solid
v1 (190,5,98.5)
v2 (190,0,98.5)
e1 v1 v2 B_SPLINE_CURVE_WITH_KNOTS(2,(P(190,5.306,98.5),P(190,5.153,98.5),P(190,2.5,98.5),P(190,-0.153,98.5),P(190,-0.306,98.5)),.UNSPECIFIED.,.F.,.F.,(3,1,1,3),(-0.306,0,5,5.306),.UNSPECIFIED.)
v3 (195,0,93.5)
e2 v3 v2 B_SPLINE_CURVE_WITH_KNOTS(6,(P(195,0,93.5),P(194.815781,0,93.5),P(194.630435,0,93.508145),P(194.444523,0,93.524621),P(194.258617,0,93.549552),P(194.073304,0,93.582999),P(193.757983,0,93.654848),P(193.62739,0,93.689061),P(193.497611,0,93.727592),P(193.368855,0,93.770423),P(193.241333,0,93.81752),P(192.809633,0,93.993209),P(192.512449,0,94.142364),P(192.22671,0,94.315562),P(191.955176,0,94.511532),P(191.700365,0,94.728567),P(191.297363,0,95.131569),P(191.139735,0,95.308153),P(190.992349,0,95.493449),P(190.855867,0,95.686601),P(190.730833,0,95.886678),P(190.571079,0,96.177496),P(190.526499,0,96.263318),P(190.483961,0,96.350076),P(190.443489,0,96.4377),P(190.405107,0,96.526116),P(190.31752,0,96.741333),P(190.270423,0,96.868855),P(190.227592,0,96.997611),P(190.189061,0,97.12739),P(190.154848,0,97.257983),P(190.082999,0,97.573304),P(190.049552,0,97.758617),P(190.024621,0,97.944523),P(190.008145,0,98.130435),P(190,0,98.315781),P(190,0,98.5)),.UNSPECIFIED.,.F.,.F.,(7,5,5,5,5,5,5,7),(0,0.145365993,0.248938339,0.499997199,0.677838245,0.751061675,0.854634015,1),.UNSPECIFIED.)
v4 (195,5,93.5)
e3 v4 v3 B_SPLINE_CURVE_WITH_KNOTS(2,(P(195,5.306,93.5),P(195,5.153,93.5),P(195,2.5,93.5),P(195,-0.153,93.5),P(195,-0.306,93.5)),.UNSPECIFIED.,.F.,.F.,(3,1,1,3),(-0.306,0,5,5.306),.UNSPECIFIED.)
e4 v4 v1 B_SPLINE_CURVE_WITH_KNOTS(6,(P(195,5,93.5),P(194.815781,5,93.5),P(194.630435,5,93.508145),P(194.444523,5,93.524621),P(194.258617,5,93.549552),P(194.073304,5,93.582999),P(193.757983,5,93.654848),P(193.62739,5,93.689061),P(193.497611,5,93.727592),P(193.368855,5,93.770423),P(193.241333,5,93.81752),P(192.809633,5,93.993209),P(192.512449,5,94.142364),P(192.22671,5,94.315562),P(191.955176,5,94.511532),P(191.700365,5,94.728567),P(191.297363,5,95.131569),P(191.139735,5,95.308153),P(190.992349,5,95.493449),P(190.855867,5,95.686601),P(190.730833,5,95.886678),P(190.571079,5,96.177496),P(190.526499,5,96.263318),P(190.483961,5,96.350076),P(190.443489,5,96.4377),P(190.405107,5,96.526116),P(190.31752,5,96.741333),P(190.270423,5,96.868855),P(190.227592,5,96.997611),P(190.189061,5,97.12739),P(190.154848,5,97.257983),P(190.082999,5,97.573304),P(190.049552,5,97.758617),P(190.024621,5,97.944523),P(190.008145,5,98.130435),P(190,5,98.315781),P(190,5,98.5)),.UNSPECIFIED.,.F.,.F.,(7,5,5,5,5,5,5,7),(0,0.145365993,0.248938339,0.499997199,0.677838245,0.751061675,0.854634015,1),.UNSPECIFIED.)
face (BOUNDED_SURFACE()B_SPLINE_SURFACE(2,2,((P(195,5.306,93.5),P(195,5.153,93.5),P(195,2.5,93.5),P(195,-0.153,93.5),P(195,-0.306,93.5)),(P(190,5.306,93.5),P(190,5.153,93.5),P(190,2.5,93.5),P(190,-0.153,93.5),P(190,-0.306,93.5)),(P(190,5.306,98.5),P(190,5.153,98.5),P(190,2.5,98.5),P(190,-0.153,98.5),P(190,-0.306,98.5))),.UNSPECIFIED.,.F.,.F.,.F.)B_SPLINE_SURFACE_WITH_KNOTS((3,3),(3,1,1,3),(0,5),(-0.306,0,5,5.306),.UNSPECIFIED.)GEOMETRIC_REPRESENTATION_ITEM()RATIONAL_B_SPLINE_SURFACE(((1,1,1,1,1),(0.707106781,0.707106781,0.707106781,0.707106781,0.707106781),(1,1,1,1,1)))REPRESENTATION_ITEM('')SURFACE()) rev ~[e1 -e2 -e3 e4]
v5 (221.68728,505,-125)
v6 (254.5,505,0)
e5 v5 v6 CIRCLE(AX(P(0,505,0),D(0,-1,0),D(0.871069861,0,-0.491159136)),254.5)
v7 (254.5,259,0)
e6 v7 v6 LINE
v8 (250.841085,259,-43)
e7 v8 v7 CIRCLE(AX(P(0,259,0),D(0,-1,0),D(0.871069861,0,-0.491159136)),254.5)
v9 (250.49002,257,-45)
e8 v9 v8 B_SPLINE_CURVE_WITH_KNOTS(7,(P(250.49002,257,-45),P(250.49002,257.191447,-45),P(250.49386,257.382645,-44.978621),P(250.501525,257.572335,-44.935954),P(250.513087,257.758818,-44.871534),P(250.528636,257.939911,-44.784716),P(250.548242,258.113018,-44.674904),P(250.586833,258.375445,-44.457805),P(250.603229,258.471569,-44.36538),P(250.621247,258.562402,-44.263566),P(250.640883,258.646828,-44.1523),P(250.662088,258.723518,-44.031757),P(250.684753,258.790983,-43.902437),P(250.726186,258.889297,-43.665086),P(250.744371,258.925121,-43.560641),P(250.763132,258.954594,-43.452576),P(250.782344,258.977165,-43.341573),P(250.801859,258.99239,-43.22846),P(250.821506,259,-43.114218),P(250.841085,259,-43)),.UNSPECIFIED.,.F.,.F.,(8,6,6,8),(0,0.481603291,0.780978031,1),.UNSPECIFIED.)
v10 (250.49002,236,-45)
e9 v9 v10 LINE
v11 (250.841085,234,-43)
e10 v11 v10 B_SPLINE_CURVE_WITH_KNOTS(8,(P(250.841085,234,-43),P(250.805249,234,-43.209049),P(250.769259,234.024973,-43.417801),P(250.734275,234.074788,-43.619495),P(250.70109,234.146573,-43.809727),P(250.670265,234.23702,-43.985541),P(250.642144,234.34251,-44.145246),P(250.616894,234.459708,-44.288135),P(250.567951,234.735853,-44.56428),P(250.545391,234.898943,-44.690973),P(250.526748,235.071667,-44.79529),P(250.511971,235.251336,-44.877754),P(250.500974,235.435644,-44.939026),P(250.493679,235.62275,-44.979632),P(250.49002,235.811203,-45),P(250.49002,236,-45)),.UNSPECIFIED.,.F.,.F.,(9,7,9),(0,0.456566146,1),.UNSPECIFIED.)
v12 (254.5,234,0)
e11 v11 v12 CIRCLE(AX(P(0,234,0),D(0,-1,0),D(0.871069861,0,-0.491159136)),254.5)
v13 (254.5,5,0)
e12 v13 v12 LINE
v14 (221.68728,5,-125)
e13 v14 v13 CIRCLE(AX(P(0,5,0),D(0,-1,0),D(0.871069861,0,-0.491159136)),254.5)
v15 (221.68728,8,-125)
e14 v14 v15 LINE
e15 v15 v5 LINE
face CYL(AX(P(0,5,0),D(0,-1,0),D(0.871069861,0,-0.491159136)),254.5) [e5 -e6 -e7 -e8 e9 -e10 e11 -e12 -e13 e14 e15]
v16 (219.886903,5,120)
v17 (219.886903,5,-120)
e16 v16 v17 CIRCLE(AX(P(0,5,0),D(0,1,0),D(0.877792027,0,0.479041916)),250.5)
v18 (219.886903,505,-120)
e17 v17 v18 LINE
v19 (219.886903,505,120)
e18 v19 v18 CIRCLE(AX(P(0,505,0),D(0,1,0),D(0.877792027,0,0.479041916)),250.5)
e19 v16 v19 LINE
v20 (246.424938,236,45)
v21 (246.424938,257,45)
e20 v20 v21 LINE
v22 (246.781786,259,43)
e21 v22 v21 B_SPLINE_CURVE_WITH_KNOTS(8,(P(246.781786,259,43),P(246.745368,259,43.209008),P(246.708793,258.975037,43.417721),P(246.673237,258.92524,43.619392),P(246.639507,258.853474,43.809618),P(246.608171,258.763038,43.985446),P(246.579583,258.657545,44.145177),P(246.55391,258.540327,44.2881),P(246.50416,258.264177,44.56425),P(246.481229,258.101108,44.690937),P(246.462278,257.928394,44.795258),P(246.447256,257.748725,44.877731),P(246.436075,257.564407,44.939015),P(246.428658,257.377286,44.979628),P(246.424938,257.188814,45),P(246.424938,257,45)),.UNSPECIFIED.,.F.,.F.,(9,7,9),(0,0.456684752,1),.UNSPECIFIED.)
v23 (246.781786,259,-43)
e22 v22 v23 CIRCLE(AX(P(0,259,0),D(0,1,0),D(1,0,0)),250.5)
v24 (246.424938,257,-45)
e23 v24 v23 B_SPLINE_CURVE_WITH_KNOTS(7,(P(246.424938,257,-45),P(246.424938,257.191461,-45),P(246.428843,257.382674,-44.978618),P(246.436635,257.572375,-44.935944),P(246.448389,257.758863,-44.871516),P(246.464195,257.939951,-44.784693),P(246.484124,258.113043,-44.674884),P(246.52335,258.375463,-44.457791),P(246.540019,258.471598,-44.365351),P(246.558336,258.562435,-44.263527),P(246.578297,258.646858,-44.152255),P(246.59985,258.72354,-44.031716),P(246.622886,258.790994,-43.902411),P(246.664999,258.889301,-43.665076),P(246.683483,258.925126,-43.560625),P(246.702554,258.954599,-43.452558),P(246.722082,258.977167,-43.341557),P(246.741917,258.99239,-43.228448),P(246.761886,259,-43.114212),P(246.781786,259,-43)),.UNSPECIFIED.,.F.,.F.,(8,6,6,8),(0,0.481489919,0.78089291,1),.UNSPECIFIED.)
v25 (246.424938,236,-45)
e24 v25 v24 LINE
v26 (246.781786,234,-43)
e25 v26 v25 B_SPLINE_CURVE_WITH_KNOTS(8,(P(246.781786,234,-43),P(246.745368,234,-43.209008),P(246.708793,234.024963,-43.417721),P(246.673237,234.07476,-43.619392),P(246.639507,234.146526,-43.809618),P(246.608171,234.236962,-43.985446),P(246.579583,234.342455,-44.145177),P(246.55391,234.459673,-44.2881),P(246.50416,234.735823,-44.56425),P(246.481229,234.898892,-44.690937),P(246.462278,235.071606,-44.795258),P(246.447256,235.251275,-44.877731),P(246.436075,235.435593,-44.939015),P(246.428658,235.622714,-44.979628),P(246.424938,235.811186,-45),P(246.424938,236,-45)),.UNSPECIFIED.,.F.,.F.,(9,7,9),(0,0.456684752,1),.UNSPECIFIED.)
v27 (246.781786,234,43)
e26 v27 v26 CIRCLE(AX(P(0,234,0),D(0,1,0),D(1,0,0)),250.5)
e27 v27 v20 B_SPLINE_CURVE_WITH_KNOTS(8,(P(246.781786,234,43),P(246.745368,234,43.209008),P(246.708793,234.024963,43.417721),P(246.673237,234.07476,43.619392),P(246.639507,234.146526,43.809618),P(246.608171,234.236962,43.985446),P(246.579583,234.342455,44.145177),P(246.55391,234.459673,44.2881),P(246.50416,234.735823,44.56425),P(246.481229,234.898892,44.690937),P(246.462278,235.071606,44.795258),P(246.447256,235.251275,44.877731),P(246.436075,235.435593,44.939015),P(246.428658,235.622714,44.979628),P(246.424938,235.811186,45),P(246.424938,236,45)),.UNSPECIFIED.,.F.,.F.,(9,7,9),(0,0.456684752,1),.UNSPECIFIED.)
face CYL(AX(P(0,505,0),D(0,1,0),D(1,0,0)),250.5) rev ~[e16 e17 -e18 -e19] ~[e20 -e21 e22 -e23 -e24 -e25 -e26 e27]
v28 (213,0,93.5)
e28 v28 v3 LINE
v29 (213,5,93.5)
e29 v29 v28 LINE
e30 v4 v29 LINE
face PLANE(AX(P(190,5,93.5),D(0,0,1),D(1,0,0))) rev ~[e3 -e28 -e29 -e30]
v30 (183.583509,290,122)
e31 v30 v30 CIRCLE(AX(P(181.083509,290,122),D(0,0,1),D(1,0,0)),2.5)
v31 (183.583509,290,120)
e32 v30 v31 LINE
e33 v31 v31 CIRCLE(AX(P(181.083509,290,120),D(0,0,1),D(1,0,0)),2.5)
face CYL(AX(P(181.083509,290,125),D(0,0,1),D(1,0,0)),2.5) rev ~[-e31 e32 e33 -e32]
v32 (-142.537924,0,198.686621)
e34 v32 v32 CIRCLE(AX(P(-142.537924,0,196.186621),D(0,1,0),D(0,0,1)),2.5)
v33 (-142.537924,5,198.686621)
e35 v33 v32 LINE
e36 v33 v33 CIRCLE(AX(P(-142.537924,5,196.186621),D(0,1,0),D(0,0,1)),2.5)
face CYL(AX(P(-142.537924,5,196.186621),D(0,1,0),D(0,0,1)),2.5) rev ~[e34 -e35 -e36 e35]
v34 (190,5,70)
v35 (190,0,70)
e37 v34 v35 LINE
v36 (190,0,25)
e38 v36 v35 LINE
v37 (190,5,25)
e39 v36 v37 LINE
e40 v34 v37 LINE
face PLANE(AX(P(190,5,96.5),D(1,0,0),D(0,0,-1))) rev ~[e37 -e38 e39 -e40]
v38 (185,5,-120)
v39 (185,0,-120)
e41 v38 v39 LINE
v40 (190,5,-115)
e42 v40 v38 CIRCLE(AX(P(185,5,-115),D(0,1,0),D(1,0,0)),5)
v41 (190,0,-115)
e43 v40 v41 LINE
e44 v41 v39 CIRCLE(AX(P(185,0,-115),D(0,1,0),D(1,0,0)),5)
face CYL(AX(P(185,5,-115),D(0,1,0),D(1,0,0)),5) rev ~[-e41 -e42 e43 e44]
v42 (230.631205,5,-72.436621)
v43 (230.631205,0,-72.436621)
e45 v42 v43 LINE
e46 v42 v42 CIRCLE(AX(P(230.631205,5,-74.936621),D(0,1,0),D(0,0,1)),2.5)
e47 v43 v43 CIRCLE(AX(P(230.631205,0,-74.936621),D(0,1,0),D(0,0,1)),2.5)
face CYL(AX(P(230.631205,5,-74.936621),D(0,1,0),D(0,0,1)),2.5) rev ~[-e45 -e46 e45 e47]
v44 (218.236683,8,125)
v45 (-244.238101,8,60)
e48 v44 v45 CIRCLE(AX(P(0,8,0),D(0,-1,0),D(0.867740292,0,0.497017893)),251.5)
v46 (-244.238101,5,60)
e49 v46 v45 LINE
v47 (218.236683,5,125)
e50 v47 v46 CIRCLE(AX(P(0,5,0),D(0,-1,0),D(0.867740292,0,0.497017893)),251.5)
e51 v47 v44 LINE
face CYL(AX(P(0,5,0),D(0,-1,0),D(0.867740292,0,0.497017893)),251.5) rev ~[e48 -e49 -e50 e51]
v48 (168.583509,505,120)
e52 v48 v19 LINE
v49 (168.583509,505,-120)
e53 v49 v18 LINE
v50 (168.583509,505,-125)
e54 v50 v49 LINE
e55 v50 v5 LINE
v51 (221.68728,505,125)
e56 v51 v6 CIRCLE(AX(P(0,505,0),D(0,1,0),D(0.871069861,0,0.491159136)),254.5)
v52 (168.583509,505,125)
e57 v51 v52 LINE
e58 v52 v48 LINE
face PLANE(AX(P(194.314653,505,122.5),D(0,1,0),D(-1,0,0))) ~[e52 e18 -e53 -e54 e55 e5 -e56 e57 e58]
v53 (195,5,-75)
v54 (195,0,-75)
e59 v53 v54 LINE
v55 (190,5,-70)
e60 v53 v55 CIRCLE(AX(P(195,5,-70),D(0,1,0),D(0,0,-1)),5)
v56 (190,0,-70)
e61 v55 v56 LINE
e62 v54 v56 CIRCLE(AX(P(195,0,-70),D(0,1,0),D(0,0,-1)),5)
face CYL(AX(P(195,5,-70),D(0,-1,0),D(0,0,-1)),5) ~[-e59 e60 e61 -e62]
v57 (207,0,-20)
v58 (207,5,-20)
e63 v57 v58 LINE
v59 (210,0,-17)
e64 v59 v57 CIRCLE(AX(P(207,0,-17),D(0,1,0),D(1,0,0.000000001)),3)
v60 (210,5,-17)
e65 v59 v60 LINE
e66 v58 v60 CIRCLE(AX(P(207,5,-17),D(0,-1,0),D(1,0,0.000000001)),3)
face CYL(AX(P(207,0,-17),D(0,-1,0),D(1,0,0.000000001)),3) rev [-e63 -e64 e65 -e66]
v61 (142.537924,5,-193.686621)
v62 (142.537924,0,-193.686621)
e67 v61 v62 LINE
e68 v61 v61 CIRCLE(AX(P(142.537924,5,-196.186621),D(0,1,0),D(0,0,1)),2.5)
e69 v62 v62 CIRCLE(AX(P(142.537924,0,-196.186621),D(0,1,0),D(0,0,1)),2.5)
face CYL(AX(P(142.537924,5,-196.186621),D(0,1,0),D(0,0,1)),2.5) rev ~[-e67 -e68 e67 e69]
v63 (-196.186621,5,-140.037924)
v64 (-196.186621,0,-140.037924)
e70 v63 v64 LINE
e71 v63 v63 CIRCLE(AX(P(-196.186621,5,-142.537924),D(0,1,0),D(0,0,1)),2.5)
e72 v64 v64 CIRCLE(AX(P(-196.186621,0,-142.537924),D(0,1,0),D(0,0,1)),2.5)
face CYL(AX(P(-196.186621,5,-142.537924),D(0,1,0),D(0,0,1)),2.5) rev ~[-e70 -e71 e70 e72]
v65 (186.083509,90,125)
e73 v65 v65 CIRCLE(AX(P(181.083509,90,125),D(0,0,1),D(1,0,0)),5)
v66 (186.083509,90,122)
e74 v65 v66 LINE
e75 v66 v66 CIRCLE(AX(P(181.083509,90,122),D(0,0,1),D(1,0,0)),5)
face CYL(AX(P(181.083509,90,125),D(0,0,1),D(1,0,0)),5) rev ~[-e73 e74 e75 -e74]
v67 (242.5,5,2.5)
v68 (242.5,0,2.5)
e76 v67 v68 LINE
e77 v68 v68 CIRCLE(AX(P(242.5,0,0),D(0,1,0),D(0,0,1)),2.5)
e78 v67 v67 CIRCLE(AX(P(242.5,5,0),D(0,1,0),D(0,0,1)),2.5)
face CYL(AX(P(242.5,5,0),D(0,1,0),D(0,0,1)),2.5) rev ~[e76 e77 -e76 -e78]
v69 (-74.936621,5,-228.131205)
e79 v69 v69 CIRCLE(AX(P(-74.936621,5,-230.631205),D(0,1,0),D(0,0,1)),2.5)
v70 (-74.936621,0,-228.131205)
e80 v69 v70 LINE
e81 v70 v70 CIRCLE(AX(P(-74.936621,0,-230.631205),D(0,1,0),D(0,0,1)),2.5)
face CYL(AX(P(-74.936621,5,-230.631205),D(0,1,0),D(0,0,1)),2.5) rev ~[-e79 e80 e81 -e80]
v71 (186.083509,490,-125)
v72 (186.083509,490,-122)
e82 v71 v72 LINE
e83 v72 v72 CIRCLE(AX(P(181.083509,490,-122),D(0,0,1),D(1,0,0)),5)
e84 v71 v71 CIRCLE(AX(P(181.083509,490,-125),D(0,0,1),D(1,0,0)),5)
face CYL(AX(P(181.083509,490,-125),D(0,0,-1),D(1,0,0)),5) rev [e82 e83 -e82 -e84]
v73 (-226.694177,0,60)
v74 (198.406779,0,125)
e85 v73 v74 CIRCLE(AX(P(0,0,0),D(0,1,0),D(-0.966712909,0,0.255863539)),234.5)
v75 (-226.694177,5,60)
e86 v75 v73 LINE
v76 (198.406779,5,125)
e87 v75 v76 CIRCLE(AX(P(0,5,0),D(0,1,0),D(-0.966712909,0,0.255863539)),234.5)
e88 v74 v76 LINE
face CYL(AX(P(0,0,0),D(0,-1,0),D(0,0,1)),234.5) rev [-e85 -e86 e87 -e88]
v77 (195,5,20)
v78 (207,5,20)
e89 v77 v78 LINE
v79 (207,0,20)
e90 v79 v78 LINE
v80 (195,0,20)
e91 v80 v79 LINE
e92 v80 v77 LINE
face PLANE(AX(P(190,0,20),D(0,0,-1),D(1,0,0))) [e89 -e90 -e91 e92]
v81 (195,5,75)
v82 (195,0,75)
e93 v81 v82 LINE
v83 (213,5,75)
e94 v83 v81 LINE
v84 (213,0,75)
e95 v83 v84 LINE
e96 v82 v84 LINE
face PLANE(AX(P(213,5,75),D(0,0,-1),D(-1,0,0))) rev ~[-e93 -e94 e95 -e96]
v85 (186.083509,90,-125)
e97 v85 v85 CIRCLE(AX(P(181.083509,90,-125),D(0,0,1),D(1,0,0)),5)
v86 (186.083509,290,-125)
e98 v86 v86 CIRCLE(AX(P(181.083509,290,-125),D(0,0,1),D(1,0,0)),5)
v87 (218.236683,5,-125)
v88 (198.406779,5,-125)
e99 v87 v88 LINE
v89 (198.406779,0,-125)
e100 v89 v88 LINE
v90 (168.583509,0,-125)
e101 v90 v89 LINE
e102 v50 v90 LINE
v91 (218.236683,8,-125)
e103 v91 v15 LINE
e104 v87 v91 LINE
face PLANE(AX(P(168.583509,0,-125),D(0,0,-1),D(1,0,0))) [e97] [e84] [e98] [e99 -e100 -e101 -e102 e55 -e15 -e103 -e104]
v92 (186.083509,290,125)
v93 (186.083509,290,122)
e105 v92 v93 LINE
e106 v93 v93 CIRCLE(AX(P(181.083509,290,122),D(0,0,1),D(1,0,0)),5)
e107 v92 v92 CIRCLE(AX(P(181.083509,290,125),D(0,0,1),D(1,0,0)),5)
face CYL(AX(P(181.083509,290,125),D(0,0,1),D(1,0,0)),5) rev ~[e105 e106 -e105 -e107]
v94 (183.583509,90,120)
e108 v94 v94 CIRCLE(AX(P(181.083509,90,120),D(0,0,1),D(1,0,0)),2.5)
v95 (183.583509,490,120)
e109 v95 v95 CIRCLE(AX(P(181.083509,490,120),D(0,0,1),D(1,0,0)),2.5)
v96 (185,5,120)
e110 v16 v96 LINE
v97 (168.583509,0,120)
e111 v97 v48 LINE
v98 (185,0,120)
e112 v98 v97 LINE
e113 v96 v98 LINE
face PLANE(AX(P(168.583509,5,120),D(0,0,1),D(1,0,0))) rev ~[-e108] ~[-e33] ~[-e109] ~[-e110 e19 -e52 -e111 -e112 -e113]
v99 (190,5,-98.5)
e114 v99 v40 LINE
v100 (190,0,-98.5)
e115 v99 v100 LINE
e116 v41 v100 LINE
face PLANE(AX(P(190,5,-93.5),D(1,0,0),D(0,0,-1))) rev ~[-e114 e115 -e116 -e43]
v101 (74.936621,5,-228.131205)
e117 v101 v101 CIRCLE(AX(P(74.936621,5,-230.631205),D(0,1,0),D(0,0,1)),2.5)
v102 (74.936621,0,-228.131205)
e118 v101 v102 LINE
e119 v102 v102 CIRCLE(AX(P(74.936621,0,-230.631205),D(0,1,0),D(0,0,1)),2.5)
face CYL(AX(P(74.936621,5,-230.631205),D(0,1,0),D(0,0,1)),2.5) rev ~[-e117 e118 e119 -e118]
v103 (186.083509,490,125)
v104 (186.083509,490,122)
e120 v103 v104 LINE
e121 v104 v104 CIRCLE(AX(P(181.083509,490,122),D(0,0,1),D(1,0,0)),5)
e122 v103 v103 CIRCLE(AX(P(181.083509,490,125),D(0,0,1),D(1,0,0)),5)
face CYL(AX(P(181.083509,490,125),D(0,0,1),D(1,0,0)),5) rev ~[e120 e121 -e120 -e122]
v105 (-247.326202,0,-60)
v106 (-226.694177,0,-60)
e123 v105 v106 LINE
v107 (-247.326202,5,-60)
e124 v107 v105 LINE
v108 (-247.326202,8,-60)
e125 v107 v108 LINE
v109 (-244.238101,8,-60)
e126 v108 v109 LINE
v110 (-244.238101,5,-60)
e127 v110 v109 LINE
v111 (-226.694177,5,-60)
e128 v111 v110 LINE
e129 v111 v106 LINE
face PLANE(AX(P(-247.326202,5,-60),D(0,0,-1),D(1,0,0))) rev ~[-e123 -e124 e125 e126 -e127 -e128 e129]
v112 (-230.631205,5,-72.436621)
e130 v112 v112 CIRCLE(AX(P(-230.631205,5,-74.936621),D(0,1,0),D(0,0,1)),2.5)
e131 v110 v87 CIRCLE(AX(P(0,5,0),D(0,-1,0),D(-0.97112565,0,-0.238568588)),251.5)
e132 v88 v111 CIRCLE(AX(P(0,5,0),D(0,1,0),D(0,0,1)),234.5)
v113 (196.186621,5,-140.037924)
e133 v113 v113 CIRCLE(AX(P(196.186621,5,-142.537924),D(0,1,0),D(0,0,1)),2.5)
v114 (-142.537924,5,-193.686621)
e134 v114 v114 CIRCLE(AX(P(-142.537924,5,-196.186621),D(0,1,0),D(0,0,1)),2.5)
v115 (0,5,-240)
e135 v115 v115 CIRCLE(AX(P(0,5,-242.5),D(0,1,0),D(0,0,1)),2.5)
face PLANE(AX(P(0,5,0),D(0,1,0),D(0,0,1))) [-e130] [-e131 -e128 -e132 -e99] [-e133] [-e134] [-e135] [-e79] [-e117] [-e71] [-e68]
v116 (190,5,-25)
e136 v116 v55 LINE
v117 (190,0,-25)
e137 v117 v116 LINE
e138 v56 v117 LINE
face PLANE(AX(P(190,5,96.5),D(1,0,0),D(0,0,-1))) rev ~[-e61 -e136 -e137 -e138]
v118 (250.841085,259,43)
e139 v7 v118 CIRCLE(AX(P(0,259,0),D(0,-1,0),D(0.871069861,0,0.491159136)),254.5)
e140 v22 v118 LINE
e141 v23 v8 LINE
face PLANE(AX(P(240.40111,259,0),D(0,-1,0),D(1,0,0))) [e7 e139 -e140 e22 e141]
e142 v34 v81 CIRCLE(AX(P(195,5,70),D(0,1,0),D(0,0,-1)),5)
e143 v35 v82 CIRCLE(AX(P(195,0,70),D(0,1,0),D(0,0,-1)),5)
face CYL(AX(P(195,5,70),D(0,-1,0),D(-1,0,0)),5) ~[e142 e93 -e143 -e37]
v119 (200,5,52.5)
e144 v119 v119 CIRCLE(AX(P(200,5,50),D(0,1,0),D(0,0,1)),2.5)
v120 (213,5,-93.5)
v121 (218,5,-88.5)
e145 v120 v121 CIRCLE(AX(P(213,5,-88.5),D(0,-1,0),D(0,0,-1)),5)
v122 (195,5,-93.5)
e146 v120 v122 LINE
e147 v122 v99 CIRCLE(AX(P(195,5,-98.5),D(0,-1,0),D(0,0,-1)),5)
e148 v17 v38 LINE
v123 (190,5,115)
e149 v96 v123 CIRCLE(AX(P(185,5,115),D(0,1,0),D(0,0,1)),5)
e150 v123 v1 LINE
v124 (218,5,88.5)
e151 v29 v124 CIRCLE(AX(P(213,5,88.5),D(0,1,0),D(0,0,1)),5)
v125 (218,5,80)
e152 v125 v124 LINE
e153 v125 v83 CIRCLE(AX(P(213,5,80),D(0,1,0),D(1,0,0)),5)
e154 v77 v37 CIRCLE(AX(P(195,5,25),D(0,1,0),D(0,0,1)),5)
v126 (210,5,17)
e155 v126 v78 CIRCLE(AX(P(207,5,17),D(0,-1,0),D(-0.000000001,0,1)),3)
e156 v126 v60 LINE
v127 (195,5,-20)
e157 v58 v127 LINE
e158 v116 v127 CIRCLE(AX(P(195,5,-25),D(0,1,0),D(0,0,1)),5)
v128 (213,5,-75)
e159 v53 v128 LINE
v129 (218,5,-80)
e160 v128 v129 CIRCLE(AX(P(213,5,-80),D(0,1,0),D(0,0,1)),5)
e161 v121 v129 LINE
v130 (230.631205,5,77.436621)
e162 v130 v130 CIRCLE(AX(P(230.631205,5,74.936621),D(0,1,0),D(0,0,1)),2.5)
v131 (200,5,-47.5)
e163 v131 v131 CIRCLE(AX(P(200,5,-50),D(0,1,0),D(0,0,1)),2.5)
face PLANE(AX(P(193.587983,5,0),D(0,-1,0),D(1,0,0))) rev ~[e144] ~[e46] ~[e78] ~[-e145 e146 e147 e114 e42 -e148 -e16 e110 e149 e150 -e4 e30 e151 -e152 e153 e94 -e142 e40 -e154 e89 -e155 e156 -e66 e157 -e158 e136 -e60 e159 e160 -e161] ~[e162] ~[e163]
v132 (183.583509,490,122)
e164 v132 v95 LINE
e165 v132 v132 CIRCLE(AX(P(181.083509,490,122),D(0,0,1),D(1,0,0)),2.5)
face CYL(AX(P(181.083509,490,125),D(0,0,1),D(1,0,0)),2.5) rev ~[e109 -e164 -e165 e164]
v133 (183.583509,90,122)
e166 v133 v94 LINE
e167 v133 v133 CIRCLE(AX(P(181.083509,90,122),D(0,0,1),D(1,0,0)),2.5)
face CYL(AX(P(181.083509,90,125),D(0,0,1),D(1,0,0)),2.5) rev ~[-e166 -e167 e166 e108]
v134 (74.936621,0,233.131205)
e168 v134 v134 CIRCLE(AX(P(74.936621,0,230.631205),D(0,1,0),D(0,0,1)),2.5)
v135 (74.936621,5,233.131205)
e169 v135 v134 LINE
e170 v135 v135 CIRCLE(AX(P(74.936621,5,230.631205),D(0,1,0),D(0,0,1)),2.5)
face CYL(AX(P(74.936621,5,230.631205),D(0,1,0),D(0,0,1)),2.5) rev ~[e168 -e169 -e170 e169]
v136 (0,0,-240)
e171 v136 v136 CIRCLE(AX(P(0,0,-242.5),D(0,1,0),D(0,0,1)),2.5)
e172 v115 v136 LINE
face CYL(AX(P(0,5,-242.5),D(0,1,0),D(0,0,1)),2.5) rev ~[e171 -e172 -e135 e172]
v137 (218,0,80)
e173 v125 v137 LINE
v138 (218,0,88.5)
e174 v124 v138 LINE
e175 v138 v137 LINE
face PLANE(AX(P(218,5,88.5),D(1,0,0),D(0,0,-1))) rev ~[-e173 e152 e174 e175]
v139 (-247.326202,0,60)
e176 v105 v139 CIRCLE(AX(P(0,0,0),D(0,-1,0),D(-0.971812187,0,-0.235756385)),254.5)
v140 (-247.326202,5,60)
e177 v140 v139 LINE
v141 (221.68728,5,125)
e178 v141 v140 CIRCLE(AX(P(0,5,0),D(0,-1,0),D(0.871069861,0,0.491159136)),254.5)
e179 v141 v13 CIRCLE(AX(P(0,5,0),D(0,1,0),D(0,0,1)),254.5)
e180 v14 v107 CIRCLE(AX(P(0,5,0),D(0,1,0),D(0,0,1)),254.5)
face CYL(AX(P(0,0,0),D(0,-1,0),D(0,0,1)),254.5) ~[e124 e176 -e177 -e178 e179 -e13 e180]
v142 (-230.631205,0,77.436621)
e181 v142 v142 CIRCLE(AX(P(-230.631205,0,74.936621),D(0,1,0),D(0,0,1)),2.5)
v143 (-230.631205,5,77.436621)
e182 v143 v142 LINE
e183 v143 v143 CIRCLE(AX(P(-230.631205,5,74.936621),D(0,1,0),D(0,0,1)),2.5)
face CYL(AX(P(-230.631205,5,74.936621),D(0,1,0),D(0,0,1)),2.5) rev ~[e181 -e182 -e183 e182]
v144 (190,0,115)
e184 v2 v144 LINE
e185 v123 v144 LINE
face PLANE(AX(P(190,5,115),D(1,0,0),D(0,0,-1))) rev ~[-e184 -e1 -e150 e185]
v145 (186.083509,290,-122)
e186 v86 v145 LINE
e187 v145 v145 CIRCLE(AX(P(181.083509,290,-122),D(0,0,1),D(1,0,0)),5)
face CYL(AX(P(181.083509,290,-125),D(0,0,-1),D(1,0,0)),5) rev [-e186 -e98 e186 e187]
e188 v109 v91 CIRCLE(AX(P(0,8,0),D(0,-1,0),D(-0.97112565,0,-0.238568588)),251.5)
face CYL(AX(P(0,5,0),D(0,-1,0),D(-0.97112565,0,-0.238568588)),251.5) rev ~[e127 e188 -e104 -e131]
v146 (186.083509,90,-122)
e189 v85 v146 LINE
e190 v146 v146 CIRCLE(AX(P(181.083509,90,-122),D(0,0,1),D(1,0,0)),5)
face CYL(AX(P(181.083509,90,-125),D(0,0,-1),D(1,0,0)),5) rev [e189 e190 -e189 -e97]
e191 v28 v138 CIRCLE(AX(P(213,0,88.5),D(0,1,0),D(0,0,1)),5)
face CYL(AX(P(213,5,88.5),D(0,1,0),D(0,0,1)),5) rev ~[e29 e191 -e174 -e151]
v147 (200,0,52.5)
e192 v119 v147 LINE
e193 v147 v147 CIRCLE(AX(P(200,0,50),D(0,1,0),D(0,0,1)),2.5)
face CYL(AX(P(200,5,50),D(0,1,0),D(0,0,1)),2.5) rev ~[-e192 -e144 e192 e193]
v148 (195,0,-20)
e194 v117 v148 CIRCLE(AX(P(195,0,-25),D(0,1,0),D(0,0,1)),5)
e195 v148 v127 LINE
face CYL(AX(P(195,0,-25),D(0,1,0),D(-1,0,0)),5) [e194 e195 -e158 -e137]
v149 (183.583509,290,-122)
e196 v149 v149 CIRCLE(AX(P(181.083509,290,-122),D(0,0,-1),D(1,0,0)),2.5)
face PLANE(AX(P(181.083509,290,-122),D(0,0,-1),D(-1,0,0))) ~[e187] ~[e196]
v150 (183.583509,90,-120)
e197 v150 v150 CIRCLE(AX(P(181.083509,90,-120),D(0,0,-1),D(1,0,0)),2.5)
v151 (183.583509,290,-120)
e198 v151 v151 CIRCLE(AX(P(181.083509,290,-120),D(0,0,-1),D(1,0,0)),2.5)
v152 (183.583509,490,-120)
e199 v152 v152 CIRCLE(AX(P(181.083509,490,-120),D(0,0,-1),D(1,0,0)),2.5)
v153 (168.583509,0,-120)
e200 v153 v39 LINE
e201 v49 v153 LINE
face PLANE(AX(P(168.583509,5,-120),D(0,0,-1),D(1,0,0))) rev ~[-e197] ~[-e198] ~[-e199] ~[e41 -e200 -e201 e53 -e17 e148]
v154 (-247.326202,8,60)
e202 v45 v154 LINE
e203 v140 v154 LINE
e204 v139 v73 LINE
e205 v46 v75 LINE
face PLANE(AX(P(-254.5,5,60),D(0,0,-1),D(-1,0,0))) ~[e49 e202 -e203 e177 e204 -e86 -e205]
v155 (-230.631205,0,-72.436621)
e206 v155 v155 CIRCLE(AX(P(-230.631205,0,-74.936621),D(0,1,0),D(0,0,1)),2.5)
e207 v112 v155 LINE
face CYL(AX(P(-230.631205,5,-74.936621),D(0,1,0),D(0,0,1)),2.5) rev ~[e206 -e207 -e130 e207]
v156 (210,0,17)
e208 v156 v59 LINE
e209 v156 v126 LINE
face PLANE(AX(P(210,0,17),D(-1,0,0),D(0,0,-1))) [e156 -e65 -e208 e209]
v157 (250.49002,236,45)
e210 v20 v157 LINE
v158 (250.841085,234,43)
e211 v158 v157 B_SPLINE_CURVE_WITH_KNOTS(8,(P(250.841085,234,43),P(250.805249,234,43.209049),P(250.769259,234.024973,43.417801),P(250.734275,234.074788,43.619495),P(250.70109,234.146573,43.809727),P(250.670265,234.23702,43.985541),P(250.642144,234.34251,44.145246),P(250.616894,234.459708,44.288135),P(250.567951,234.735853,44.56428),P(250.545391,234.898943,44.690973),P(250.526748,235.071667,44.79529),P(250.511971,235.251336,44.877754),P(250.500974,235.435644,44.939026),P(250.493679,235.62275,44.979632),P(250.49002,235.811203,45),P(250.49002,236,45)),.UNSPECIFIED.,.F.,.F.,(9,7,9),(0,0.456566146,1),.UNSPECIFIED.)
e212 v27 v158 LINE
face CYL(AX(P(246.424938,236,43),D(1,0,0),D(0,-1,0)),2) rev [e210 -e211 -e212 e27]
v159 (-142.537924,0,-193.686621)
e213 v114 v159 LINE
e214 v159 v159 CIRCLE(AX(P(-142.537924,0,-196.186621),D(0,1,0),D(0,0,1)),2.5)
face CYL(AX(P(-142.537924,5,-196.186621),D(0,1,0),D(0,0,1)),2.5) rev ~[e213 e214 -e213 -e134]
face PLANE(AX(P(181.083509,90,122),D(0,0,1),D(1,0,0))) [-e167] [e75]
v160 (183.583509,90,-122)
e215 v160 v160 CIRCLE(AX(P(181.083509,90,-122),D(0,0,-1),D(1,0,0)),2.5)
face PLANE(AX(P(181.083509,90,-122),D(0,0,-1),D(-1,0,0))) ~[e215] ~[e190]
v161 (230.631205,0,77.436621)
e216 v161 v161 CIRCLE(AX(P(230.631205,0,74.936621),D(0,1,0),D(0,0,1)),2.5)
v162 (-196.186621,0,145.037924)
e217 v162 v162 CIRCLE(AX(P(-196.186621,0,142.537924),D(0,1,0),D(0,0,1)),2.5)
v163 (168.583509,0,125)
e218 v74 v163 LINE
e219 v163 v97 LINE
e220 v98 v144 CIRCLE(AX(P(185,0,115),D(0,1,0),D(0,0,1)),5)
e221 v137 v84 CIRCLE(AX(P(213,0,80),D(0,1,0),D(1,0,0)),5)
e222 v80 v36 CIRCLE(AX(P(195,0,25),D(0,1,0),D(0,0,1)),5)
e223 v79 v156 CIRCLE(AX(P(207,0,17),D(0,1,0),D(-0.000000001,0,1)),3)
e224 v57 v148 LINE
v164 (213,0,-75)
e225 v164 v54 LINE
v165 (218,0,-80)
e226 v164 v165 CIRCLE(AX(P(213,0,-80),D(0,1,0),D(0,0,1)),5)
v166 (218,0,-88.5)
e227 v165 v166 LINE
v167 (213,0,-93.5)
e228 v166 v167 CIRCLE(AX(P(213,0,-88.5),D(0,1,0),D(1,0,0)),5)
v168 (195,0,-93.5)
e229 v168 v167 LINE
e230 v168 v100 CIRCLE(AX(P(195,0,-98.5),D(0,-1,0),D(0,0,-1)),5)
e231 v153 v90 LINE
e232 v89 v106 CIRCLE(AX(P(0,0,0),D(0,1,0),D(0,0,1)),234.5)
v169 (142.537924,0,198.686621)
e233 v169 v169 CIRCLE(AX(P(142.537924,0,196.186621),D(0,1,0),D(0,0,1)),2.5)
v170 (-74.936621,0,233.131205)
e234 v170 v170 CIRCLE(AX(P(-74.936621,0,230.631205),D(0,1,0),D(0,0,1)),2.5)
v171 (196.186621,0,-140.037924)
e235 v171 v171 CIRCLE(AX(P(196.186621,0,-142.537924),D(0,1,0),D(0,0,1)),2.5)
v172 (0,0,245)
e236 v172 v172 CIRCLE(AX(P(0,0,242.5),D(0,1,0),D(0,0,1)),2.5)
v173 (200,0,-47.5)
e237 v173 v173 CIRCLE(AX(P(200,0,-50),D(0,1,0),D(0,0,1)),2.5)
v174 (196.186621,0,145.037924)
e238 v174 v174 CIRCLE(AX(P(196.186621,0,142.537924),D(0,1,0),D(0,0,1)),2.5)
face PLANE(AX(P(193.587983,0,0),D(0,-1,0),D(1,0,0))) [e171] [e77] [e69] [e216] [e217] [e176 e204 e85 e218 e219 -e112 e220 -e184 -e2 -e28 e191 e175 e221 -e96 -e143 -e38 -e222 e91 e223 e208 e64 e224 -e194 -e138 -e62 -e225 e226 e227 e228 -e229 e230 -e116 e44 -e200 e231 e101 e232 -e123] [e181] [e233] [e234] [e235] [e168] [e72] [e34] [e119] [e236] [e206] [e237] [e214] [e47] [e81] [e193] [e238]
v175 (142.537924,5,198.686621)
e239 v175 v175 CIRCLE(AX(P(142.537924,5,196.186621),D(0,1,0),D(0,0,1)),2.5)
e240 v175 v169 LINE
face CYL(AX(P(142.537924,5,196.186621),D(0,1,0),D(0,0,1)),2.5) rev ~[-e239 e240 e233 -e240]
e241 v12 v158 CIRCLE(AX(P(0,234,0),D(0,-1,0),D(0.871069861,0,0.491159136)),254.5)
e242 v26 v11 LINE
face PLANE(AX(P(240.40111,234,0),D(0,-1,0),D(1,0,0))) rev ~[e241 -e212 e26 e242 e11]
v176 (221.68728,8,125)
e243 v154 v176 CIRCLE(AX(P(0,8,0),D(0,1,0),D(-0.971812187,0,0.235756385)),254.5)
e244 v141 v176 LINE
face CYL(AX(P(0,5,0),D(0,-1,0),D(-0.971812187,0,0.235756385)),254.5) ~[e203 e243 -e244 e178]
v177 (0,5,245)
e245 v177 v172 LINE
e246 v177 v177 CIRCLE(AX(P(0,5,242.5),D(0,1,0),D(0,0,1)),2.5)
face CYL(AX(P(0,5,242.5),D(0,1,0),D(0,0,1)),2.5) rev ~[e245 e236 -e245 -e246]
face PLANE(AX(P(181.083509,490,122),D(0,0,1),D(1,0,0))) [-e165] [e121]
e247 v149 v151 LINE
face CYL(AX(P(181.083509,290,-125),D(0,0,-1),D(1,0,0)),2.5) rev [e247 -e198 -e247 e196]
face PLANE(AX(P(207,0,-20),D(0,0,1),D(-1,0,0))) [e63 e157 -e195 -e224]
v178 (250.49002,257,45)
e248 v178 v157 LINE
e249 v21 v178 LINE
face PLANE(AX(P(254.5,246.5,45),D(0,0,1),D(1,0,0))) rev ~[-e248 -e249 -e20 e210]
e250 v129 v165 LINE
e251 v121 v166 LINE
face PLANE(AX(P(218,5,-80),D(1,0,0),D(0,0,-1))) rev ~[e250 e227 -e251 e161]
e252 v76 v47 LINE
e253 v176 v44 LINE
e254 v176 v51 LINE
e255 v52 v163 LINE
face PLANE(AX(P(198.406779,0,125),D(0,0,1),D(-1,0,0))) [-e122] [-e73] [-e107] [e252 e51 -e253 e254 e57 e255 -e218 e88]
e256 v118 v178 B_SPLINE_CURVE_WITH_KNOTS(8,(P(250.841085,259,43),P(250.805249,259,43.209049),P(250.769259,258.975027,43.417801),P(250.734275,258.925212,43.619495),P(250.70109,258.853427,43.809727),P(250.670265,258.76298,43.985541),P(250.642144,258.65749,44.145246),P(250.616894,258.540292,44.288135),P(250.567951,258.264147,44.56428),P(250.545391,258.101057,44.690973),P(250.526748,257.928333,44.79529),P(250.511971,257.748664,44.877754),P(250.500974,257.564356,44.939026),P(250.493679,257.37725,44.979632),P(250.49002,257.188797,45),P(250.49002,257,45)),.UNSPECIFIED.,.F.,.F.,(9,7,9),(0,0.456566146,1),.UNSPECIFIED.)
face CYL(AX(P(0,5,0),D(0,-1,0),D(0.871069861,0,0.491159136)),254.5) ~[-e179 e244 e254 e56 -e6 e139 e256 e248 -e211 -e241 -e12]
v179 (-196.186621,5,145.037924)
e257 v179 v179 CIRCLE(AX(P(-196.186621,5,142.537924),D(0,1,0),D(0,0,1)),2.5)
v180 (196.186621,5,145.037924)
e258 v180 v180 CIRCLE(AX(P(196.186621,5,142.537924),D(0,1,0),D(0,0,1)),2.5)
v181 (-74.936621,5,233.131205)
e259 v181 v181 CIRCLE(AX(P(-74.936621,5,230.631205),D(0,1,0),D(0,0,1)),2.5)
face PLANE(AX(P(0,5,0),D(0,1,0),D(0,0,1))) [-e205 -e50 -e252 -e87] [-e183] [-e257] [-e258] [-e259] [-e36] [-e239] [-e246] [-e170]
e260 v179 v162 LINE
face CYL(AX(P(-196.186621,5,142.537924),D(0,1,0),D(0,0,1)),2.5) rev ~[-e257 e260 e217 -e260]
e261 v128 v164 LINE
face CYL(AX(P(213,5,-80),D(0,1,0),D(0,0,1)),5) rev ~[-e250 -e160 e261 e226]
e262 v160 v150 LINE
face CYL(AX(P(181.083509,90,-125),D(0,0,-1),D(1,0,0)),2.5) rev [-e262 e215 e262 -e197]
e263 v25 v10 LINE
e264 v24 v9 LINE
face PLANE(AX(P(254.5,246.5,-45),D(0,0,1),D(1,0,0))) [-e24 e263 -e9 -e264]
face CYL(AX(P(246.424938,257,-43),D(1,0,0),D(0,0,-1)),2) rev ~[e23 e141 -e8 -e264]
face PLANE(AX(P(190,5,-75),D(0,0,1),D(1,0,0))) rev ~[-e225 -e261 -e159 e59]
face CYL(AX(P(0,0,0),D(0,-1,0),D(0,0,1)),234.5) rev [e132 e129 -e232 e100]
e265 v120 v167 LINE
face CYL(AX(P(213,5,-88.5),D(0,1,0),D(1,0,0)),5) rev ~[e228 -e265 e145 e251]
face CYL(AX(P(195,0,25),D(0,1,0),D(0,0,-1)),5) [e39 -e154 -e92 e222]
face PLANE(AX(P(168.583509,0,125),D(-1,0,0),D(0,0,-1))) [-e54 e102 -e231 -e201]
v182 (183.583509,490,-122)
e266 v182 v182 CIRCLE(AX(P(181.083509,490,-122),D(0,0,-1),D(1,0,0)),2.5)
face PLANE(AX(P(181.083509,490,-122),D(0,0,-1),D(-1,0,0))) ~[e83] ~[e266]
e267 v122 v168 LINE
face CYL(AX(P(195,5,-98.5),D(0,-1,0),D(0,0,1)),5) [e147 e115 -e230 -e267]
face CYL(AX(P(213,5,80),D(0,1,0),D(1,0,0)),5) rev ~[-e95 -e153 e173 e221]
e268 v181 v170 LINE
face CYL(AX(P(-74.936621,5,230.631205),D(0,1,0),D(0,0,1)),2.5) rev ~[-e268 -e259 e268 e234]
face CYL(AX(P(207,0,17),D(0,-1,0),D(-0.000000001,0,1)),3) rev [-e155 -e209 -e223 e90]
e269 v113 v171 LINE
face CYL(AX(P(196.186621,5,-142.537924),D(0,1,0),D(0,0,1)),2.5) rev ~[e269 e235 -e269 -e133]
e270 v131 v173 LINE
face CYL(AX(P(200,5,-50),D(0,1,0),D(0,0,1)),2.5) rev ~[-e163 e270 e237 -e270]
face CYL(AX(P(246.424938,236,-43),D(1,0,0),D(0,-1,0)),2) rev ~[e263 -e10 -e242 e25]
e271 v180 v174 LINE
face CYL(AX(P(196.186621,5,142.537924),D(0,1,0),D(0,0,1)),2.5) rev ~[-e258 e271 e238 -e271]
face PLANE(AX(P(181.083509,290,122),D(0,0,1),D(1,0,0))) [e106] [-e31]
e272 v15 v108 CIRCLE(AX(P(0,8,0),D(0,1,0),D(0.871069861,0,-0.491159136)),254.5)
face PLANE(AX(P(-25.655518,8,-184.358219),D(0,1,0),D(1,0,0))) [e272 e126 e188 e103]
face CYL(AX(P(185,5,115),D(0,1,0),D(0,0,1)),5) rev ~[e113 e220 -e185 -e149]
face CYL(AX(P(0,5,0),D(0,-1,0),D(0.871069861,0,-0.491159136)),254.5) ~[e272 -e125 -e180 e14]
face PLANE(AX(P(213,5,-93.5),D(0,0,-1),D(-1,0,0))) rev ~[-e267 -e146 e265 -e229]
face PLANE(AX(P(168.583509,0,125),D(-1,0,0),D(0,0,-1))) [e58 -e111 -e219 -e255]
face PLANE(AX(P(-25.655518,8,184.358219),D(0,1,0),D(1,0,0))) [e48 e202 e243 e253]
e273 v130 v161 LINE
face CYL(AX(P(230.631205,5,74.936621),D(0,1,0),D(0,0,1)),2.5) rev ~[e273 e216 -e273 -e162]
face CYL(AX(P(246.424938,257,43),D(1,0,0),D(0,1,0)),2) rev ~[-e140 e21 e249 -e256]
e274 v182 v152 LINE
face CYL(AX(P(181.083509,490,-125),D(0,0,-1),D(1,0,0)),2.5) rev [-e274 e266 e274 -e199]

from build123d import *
from build123d.topology import SkipClean

# Parameters (mm, degrees)
SKETCH1_R           = 254.5
SKETCH1_R_2         = 234.5
BOSS_EXTRUDE1_DEPTH = 5
BOSS_EXTRUDE2_DEPTH = 500
SKETCH3_W           = 27.805822748
SKETCH3_H           = 60
CUT_EXTRUDE1_DEPTH  = 500
SKETCH4_R           = 250.5
CUT_EXTRUDE2_DEPTH  = 500
BOSS_EXTRUDE3_DEPTH = 500
BOSS_EXTRUDE4_DEPTH = 5
SKETCH11_W          = 21.416490723
SKETCH11_H          = 190
CUT_EXTRUDE3_DEPTH  = 10
CUT_EXTRUDE4_DEPTH  = 10
FILLET1_R           = 5
SKETCH15_R          = 2.5
CUT_EXTRUDE5_DEPTH  = 10
BOSS_EXTRUDE5_DEPTH = 3
SKETCH18_R          = 2.5
CUT_EXTRUDE6_DEPTH  = 5
CUT_EXTRUDE7_DEPTH  = 7
FILLET2_R           = 5
SKETCH21_R          = 2.5
CUT_EXTRUDE8_DEPTH  = 10
SKETCH22_R          = 2.5
CUT_EXTRUDE9_DEPTH  = 14
SKETCH23_R          = 5
CUT_EXTRUDE10_DEPTH = 3
SKETCH24_W          = 28.197779234
SKETCH24_H          = 25
CUT_EXTRUDE11_DEPTH = 45
FILLET3_R           = 2


with BuildPart() as part:
    # Sketch1 → Boss-Extrude1 (new body)
    with BuildSketch(Plane(origin=(0, 0, 0), x_dir=(1, 0, 0), z_dir=(0, 1, 0))):
        with Locations(Location((0, 0, 0), (0, 0, 270))):
            Circle(SKETCH1_R)
        with Locations(Location((0, 0, 0), (0, 0, 270))):
            Circle(SKETCH1_R_2, mode=Mode.SUBTRACT)
    extrude(amount=BOSS_EXTRUDE1_DEPTH)

    # Sketch2 → Boss-Extrude2 (add)
    with SkipClean():  # the faces are left unmerged after this step: merging them gives an invalid solid
        with BuildSketch(Plane(origin=(0, 5, 0), x_dir=(1, 0, 0), z_dir=(0, 1, 0))):
            with BuildLine():
                Line((254.5, 0), (234.5, 0))
                ThreePointArc((234.5, 0), (225.296071541, 65.053286992), (198.406779118, 125))
                Line((198.406779118, 125), (221.687279743, 125))
                ThreePointArc((221.687279743, 125), (246.16017417, 64.617479467), (254.5, 0))
            make_face()
        boss_extrude2 = extrude(amount=BOSS_EXTRUDE2_DEPTH)

    # Mirror1: Boss-Extrude2 across plane
    with SkipClean():  # the faces are left unmerged after this step: merging them gives an invalid solid
        add(boss_extrude2.mirror(Plane(origin=(0, 505, 0), x_dir=(1, 0, 0), z_dir=(0, 0, 1))))

    # Sketch3 → Cut-Extrude1 (cut)
    with SkipClean():  # the faces are left unmerged after this step: merging them gives an invalid solid
        with BuildSketch(Plane(origin=(0, 5, 0), x_dir=(1, 0, 0), z_dir=(0, 1, 0))):
            with Locations((-240.597088626, 30)):
                Rectangle(SKETCH3_W, SKETCH3_H)
        cut_extrude1 = extrude(amount=-CUT_EXTRUDE1_DEPTH, mode=Mode.SUBTRACT)

    # Mirror2: Cut-Extrude1 across plane
    with SkipClean():  # the faces are left unmerged after this step: merging them gives an invalid solid
        add(cut_extrude1.mirror(Plane.XY), mode=Mode.SUBTRACT)

    # Sketch4 → Cut-Extrude2 (cut)
    with SkipClean():  # the faces are left unmerged after this step: merging them gives an invalid solid
        with BuildSketch(Plane(origin=(0, 505, 0), x_dir=(1, 0, 0), z_dir=(0, 1, 0))):
            Circle(SKETCH4_R)
        extrude(amount=-CUT_EXTRUDE2_DEPTH, mode=Mode.SUBTRACT)

    # Sketch8 → Boss-Extrude3 (add)
    with SkipClean():  # the faces are left unmerged after this step: merging them gives an invalid solid
        with BuildSketch(Plane(origin=(0, 5, 0), x_dir=(1, 0, 0), z_dir=(0, 1, 0))):
            Polygon((217.083509277, 125), (168.583509277, 125), (168.583509277, 120), (220.045796136, 120), (220.045796136, 125), align=None)
        boss_extrude3 = extrude(amount=BOSS_EXTRUDE3_DEPTH)

    # Mirror3: Boss-Extrude3 across plane
    with SkipClean():  # the faces are left unmerged after this step: merging them gives an invalid solid
        add(boss_extrude3.mirror(Plane.XY))

    # Sketch10 → Boss-Extrude4 (add)
    with SkipClean():  # the faces are left unmerged after this step: merging them gives an invalid solid
        with BuildSketch(Plane.XZ):
            with BuildLine():
                Line((198.406779118, 125), (168.583509277, 125))
                Line((168.583509277, 125), (168.583509277, -125))
                Line((168.583509277, -125), (198.406779118, -125))
                ThreePointArc((198.406779118, -125), (234.5, 0), (198.406779118, 125))
            make_face()
        extrude(amount=-BOSS_EXTRUDE4_DEPTH)

    # Sketch11 → Cut-Extrude3 (cut)
    with SkipClean():  # the faces are left unmerged after this step: merging them gives an invalid solid
        with BuildSketch(Plane(origin=(0, 5, 0), x_dir=(1, 0, 0), z_dir=(0, 1, 0))):
            with Locations((179.291754639, -1.5)):
                Rectangle(SKETCH11_W, SKETCH11_H)
        extrude(amount=-CUT_EXTRUDE3_DEPTH, mode=Mode.SUBTRACT)

    # Sketch12 → Cut-Extrude4 (cut)
    with SkipClean():  # the faces are left unmerged after this step: merging them gives an invalid solid
        with BuildSketch(Plane(origin=(0, 5, 0), x_dir=(1, 0, 0), z_dir=(0, 1, 0))):
            with BuildLine():
                Line((213, 93.5), (190, 93.5))
                Line((190, 93.5), (190, 75))
                Line((190, 75), (213, 75))
                ThreePointArc((213, 75), (216.535533906, 76.464466094), (218, 80))
                Line((218, 80), (218, 88.5))
                ThreePointArc((218, 88.5), (216.535533906, 92.035533906), (213, 93.5))
            make_face()
            with BuildLine():
                Line((185, 120), (168.583509277, 120))
                Line((168.583509277, 120), (168.583509277, 93.5))
                Line((168.583509277, 93.5), (190, 93.5))
                Line((190, 93.5), (190, 115))
                ThreePointArc((190, 115), (188.535533906, 118.535533906), (185, 120))
            make_face()
            with BuildLine():
                ThreePointArc((213, -93.5), (216.535533906, -92.035533906), (218, -88.5))
                Line((218, -88.5), (218, -80))
                ThreePointArc((218, -80), (216.535533906, -76.464466094), (213, -75))
                Line((213, -75), (190, -75))
                Line((190, -75), (190, -93.5))
                Line((190, -93.5), (213, -93.5))
            make_face()
            with BuildLine():
                Line((190, -115), (190, -93.5))
                Line((190, -93.5), (168.583509277, -93.5))
                Line((168.583509277, -93.5), (168.583509277, -120))
                Line((168.583509277, -120), (185, -120))
                ThreePointArc((185, -120), (188.535533906, -118.535533906), (190, -115))
            make_face()
        extrude(amount=-CUT_EXTRUDE4_DEPTH, mode=Mode.SUBTRACT)

    # Fillet1
    fillet1_edges = [part.edges().sort_by_distance(p)[0] for p in [
        (190, 2.5, 75),
        (190, 2.5, 93.5),
        (190, 2.5, -93.5),
        (190, 2.5, -75),
    ]]
    fillet(fillet1_edges, radius=FILLET1_R)

    # Sketch15 → Cut-Extrude5 (cut)
    with BuildSketch(Plane(origin=(0, 5, 0), x_dir=(1, 0, 0), z_dir=(0, 1, 0))):
        with Locations(Location((242.5, 0, 0), (0, 0, 270))):
            Circle(SKETCH15_R)
        with Locations(Location((196.186621136, -142.537923681, 0), (0, 0, 270))):
            Circle(SKETCH15_R)
        with Locations(Location((74.936621136, -230.631205202, 0), (0, 0, 270))):
            Circle(SKETCH15_R)
        with Locations(Location((-74.936621136, -230.631205202, 0), (0, 0, 270))):
            Circle(SKETCH15_R)
        with Locations(Location((-196.186621136, -142.537923681, 0), (0, 0, 270))):
            Circle(SKETCH15_R)
        with Locations((-242.5, 0)):
            Circle(SKETCH15_R)
        with Locations(Location((-196.186621136, 142.537923681, 0), (0, 0, 270))):
            Circle(SKETCH15_R)
        with Locations(Location((-74.936621136, 230.631205202, 0), (0, 0, 270))):
            Circle(SKETCH15_R)
        with Locations(Location((74.936621136, 230.631205202, 0), (0, 0, 270))):
            Circle(SKETCH15_R)
        with Locations(Location((196.186621136, 142.537923681, 0), (0, 0, 270))):
            Circle(SKETCH15_R)
    extrude(amount=-CUT_EXTRUDE5_DEPTH, mode=Mode.SUBTRACT)

    # Sketch16 → Boss-Extrude5 (add)
    with SkipClean():  # the faces are left unmerged after this step: merging them gives an invalid solid
        with BuildSketch(Plane(origin=(0, 5, 0), x_dir=(1, 0, 0), z_dir=(0, 1, 0))):
            with BuildLine():
                Line((-247.326201604, 60), (-244.238101041, 60))
                ThreePointArc((-244.238101041, 60), (-35.003834494, 249.052166364), (218.236683443, 125))
                Line((218.236683443, 125), (221.687279743, 125))
                ThreePointArc((221.687279743, 125), (-34.936922855, 252.090581779), (-247.326201604, 60))
            make_face()
            with BuildLine():
                Line((221.687279743, -125), (218.236683443, -125))
                ThreePointArc((218.236683443, -125), (-35.003834494, -249.052166364), (-244.238101041, -60))
                Line((-244.238101041, -60), (-247.326201604, -60))
                ThreePointArc((-247.326201604, -60), (-34.936922855, -252.090581779), (221.687279743, -125))
            make_face()
        extrude(amount=BOSS_EXTRUDE5_DEPTH)

    # Sketch18 → Cut-Extrude6 (cut)
    with BuildSketch(Plane(origin=(0, 5, 0), x_dir=(1, 0, 0), z_dir=(0, 1, 0))):
        with Locations(Location((0, -242.5, 0), (0, 0, 270))):
            Circle(SKETCH18_R)
        with Locations(Location((-142.537923681, -196.186621136, 0), (0, 0, 270))):
            Circle(SKETCH18_R)
        with Locations(Location((-230.631205202, -74.936621136, 0), (0, 0, 270))):
            Circle(SKETCH18_R)
        with Locations(Location((-230.631205202, 74.936621136, 0), (0, 0, 270))):
            Circle(SKETCH18_R)
        with Locations(Location((-142.537923681, 196.186621136, 0), (0, 0, 270))):
            Circle(SKETCH18_R)
        with Locations(Location((0, 242.5, 0), (0, 0, 270))):
            Circle(SKETCH18_R)
        with Locations(Location((142.537923681, 196.186621136, 0), (0, 0, 270))):
            Circle(SKETCH18_R)
        with Locations(Location((230.631205202, 74.936621136, 0), (0, 0, 270))):
            Circle(SKETCH18_R)
        with Locations(Location((230.631205202, -74.936621136, 0), (0, 0, 270))):
            Circle(SKETCH18_R)
        with Locations(Location((142.537923681, -196.186621136, 0), (0, 0, 270))):
            Circle(SKETCH18_R)
    extrude(amount=-CUT_EXTRUDE6_DEPTH, mode=Mode.SUBTRACT)

    # Sketch19 → Cut-Extrude7 (cut)
    with BuildSketch(Plane.XZ):
        with BuildLine():
            Line((193, 20), (207, 20))
            ThreePointArc((207, 20), (209.121320344, 19.121320344), (210, 17))
            Line((210, 17), (210, -17))
            ThreePointArc((210, -17), (209.121320344, -19.121320344), (207, -20))
            Line((207, -20), (193, -20))
            Line((193, -20), (190, -20))
            Line((190, -20), (190, -17))
            Line((190, -17), (190, 17))
            Line((190, 17), (190, 20))
            Line((190, 20), (193, 20))
        make_face()
    extrude(amount=-CUT_EXTRUDE7_DEPTH, mode=Mode.SUBTRACT)

    # Fillet2
    fillet2_edges = [part.edges().sort_by_distance(p)[0] for p in [
        (190, 2.5, -20),
        (190, 2.5, 20),
    ]]
    fillet(fillet2_edges, radius=FILLET2_R)

    # Sketch21 → Cut-Extrude8 (cut)
    with SkipClean():  # the faces are left unmerged after this step: merging them gives an invalid solid
        with BuildSketch(Plane(origin=(0, 5, 0), x_dir=(1, 0, 0), z_dir=(0, 1, 0))):
            with Locations(Location((200, 50, 0), (0, 0, 270))):
                Circle(SKETCH21_R)
            with Locations(Location((200, -50, 0), (0, 0, 270))):
                Circle(SKETCH21_R)
        extrude(amount=-CUT_EXTRUDE8_DEPTH, mode=Mode.SUBTRACT)

    # Sketch22 → Cut-Extrude9 (cut)
    with SkipClean():  # the faces are left unmerged after this step: merging them gives an invalid solid
        with BuildSketch(Plane.XY.offset(125)):
            with Locations((181.083509277, 490)):
                Circle(SKETCH22_R)
            with Locations((181.083509277, 290)):
                Circle(SKETCH22_R)
            with Locations((181.083509277, 90)):
                Circle(SKETCH22_R)
        cut_extrude9 = extrude(amount=-CUT_EXTRUDE9_DEPTH, mode=Mode.SUBTRACT)

    # Mirror4: Cut-Extrude9 across plane
    with SkipClean():  # the faces are left unmerged after this step: merging them gives an invalid solid
        add(cut_extrude9.mirror(Plane.XY), mode=Mode.SUBTRACT)

    # Sketch23 → Cut-Extrude10 (cut)
    with SkipClean():  # the faces are left unmerged after this step: merging them gives an invalid solid
        with BuildSketch(Plane.XY.offset(125)):
            with Locations((181.083509277, 490)):
                Circle(SKETCH23_R)
            with Locations((181.083509277, 290)):
                Circle(SKETCH23_R)
            with Locations((181.083509277, 90)):
                Circle(SKETCH23_R)
        cut_extrude10 = extrude(amount=-CUT_EXTRUDE10_DEPTH, mode=Mode.SUBTRACT)

    # Mirror5: Cut-Extrude10 across plane
    with SkipClean():  # the faces are left unmerged after this step: merging them gives an invalid solid
        add(cut_extrude10.mirror(Plane.XY), mode=Mode.SUBTRACT)

    # Sketch24 → Cut-Extrude11 (cut, symmetric)
    with SkipClean():  # the faces are left unmerged after this step: merging them gives an invalid solid
        with BuildSketch(Plane.XY):
            with Locations((254.5, 246.5)):
                Rectangle(SKETCH24_W, SKETCH24_H)
        extrude(amount=CUT_EXTRUDE11_DEPTH, both=True, mode=Mode.SUBTRACT)

    # Fillet3
    fillet3_edges = [part.edges().sort_by_distance(p)[0] for p in [
        (248.457478811, 259, -45),
        (248.457478811, 234, -45),
        (248.457478811, 259, 45),
        (248.457478811, 234, 45),
    ]]
    fillet(fillet3_edges, radius=FILLET3_R)


solid = part.part
